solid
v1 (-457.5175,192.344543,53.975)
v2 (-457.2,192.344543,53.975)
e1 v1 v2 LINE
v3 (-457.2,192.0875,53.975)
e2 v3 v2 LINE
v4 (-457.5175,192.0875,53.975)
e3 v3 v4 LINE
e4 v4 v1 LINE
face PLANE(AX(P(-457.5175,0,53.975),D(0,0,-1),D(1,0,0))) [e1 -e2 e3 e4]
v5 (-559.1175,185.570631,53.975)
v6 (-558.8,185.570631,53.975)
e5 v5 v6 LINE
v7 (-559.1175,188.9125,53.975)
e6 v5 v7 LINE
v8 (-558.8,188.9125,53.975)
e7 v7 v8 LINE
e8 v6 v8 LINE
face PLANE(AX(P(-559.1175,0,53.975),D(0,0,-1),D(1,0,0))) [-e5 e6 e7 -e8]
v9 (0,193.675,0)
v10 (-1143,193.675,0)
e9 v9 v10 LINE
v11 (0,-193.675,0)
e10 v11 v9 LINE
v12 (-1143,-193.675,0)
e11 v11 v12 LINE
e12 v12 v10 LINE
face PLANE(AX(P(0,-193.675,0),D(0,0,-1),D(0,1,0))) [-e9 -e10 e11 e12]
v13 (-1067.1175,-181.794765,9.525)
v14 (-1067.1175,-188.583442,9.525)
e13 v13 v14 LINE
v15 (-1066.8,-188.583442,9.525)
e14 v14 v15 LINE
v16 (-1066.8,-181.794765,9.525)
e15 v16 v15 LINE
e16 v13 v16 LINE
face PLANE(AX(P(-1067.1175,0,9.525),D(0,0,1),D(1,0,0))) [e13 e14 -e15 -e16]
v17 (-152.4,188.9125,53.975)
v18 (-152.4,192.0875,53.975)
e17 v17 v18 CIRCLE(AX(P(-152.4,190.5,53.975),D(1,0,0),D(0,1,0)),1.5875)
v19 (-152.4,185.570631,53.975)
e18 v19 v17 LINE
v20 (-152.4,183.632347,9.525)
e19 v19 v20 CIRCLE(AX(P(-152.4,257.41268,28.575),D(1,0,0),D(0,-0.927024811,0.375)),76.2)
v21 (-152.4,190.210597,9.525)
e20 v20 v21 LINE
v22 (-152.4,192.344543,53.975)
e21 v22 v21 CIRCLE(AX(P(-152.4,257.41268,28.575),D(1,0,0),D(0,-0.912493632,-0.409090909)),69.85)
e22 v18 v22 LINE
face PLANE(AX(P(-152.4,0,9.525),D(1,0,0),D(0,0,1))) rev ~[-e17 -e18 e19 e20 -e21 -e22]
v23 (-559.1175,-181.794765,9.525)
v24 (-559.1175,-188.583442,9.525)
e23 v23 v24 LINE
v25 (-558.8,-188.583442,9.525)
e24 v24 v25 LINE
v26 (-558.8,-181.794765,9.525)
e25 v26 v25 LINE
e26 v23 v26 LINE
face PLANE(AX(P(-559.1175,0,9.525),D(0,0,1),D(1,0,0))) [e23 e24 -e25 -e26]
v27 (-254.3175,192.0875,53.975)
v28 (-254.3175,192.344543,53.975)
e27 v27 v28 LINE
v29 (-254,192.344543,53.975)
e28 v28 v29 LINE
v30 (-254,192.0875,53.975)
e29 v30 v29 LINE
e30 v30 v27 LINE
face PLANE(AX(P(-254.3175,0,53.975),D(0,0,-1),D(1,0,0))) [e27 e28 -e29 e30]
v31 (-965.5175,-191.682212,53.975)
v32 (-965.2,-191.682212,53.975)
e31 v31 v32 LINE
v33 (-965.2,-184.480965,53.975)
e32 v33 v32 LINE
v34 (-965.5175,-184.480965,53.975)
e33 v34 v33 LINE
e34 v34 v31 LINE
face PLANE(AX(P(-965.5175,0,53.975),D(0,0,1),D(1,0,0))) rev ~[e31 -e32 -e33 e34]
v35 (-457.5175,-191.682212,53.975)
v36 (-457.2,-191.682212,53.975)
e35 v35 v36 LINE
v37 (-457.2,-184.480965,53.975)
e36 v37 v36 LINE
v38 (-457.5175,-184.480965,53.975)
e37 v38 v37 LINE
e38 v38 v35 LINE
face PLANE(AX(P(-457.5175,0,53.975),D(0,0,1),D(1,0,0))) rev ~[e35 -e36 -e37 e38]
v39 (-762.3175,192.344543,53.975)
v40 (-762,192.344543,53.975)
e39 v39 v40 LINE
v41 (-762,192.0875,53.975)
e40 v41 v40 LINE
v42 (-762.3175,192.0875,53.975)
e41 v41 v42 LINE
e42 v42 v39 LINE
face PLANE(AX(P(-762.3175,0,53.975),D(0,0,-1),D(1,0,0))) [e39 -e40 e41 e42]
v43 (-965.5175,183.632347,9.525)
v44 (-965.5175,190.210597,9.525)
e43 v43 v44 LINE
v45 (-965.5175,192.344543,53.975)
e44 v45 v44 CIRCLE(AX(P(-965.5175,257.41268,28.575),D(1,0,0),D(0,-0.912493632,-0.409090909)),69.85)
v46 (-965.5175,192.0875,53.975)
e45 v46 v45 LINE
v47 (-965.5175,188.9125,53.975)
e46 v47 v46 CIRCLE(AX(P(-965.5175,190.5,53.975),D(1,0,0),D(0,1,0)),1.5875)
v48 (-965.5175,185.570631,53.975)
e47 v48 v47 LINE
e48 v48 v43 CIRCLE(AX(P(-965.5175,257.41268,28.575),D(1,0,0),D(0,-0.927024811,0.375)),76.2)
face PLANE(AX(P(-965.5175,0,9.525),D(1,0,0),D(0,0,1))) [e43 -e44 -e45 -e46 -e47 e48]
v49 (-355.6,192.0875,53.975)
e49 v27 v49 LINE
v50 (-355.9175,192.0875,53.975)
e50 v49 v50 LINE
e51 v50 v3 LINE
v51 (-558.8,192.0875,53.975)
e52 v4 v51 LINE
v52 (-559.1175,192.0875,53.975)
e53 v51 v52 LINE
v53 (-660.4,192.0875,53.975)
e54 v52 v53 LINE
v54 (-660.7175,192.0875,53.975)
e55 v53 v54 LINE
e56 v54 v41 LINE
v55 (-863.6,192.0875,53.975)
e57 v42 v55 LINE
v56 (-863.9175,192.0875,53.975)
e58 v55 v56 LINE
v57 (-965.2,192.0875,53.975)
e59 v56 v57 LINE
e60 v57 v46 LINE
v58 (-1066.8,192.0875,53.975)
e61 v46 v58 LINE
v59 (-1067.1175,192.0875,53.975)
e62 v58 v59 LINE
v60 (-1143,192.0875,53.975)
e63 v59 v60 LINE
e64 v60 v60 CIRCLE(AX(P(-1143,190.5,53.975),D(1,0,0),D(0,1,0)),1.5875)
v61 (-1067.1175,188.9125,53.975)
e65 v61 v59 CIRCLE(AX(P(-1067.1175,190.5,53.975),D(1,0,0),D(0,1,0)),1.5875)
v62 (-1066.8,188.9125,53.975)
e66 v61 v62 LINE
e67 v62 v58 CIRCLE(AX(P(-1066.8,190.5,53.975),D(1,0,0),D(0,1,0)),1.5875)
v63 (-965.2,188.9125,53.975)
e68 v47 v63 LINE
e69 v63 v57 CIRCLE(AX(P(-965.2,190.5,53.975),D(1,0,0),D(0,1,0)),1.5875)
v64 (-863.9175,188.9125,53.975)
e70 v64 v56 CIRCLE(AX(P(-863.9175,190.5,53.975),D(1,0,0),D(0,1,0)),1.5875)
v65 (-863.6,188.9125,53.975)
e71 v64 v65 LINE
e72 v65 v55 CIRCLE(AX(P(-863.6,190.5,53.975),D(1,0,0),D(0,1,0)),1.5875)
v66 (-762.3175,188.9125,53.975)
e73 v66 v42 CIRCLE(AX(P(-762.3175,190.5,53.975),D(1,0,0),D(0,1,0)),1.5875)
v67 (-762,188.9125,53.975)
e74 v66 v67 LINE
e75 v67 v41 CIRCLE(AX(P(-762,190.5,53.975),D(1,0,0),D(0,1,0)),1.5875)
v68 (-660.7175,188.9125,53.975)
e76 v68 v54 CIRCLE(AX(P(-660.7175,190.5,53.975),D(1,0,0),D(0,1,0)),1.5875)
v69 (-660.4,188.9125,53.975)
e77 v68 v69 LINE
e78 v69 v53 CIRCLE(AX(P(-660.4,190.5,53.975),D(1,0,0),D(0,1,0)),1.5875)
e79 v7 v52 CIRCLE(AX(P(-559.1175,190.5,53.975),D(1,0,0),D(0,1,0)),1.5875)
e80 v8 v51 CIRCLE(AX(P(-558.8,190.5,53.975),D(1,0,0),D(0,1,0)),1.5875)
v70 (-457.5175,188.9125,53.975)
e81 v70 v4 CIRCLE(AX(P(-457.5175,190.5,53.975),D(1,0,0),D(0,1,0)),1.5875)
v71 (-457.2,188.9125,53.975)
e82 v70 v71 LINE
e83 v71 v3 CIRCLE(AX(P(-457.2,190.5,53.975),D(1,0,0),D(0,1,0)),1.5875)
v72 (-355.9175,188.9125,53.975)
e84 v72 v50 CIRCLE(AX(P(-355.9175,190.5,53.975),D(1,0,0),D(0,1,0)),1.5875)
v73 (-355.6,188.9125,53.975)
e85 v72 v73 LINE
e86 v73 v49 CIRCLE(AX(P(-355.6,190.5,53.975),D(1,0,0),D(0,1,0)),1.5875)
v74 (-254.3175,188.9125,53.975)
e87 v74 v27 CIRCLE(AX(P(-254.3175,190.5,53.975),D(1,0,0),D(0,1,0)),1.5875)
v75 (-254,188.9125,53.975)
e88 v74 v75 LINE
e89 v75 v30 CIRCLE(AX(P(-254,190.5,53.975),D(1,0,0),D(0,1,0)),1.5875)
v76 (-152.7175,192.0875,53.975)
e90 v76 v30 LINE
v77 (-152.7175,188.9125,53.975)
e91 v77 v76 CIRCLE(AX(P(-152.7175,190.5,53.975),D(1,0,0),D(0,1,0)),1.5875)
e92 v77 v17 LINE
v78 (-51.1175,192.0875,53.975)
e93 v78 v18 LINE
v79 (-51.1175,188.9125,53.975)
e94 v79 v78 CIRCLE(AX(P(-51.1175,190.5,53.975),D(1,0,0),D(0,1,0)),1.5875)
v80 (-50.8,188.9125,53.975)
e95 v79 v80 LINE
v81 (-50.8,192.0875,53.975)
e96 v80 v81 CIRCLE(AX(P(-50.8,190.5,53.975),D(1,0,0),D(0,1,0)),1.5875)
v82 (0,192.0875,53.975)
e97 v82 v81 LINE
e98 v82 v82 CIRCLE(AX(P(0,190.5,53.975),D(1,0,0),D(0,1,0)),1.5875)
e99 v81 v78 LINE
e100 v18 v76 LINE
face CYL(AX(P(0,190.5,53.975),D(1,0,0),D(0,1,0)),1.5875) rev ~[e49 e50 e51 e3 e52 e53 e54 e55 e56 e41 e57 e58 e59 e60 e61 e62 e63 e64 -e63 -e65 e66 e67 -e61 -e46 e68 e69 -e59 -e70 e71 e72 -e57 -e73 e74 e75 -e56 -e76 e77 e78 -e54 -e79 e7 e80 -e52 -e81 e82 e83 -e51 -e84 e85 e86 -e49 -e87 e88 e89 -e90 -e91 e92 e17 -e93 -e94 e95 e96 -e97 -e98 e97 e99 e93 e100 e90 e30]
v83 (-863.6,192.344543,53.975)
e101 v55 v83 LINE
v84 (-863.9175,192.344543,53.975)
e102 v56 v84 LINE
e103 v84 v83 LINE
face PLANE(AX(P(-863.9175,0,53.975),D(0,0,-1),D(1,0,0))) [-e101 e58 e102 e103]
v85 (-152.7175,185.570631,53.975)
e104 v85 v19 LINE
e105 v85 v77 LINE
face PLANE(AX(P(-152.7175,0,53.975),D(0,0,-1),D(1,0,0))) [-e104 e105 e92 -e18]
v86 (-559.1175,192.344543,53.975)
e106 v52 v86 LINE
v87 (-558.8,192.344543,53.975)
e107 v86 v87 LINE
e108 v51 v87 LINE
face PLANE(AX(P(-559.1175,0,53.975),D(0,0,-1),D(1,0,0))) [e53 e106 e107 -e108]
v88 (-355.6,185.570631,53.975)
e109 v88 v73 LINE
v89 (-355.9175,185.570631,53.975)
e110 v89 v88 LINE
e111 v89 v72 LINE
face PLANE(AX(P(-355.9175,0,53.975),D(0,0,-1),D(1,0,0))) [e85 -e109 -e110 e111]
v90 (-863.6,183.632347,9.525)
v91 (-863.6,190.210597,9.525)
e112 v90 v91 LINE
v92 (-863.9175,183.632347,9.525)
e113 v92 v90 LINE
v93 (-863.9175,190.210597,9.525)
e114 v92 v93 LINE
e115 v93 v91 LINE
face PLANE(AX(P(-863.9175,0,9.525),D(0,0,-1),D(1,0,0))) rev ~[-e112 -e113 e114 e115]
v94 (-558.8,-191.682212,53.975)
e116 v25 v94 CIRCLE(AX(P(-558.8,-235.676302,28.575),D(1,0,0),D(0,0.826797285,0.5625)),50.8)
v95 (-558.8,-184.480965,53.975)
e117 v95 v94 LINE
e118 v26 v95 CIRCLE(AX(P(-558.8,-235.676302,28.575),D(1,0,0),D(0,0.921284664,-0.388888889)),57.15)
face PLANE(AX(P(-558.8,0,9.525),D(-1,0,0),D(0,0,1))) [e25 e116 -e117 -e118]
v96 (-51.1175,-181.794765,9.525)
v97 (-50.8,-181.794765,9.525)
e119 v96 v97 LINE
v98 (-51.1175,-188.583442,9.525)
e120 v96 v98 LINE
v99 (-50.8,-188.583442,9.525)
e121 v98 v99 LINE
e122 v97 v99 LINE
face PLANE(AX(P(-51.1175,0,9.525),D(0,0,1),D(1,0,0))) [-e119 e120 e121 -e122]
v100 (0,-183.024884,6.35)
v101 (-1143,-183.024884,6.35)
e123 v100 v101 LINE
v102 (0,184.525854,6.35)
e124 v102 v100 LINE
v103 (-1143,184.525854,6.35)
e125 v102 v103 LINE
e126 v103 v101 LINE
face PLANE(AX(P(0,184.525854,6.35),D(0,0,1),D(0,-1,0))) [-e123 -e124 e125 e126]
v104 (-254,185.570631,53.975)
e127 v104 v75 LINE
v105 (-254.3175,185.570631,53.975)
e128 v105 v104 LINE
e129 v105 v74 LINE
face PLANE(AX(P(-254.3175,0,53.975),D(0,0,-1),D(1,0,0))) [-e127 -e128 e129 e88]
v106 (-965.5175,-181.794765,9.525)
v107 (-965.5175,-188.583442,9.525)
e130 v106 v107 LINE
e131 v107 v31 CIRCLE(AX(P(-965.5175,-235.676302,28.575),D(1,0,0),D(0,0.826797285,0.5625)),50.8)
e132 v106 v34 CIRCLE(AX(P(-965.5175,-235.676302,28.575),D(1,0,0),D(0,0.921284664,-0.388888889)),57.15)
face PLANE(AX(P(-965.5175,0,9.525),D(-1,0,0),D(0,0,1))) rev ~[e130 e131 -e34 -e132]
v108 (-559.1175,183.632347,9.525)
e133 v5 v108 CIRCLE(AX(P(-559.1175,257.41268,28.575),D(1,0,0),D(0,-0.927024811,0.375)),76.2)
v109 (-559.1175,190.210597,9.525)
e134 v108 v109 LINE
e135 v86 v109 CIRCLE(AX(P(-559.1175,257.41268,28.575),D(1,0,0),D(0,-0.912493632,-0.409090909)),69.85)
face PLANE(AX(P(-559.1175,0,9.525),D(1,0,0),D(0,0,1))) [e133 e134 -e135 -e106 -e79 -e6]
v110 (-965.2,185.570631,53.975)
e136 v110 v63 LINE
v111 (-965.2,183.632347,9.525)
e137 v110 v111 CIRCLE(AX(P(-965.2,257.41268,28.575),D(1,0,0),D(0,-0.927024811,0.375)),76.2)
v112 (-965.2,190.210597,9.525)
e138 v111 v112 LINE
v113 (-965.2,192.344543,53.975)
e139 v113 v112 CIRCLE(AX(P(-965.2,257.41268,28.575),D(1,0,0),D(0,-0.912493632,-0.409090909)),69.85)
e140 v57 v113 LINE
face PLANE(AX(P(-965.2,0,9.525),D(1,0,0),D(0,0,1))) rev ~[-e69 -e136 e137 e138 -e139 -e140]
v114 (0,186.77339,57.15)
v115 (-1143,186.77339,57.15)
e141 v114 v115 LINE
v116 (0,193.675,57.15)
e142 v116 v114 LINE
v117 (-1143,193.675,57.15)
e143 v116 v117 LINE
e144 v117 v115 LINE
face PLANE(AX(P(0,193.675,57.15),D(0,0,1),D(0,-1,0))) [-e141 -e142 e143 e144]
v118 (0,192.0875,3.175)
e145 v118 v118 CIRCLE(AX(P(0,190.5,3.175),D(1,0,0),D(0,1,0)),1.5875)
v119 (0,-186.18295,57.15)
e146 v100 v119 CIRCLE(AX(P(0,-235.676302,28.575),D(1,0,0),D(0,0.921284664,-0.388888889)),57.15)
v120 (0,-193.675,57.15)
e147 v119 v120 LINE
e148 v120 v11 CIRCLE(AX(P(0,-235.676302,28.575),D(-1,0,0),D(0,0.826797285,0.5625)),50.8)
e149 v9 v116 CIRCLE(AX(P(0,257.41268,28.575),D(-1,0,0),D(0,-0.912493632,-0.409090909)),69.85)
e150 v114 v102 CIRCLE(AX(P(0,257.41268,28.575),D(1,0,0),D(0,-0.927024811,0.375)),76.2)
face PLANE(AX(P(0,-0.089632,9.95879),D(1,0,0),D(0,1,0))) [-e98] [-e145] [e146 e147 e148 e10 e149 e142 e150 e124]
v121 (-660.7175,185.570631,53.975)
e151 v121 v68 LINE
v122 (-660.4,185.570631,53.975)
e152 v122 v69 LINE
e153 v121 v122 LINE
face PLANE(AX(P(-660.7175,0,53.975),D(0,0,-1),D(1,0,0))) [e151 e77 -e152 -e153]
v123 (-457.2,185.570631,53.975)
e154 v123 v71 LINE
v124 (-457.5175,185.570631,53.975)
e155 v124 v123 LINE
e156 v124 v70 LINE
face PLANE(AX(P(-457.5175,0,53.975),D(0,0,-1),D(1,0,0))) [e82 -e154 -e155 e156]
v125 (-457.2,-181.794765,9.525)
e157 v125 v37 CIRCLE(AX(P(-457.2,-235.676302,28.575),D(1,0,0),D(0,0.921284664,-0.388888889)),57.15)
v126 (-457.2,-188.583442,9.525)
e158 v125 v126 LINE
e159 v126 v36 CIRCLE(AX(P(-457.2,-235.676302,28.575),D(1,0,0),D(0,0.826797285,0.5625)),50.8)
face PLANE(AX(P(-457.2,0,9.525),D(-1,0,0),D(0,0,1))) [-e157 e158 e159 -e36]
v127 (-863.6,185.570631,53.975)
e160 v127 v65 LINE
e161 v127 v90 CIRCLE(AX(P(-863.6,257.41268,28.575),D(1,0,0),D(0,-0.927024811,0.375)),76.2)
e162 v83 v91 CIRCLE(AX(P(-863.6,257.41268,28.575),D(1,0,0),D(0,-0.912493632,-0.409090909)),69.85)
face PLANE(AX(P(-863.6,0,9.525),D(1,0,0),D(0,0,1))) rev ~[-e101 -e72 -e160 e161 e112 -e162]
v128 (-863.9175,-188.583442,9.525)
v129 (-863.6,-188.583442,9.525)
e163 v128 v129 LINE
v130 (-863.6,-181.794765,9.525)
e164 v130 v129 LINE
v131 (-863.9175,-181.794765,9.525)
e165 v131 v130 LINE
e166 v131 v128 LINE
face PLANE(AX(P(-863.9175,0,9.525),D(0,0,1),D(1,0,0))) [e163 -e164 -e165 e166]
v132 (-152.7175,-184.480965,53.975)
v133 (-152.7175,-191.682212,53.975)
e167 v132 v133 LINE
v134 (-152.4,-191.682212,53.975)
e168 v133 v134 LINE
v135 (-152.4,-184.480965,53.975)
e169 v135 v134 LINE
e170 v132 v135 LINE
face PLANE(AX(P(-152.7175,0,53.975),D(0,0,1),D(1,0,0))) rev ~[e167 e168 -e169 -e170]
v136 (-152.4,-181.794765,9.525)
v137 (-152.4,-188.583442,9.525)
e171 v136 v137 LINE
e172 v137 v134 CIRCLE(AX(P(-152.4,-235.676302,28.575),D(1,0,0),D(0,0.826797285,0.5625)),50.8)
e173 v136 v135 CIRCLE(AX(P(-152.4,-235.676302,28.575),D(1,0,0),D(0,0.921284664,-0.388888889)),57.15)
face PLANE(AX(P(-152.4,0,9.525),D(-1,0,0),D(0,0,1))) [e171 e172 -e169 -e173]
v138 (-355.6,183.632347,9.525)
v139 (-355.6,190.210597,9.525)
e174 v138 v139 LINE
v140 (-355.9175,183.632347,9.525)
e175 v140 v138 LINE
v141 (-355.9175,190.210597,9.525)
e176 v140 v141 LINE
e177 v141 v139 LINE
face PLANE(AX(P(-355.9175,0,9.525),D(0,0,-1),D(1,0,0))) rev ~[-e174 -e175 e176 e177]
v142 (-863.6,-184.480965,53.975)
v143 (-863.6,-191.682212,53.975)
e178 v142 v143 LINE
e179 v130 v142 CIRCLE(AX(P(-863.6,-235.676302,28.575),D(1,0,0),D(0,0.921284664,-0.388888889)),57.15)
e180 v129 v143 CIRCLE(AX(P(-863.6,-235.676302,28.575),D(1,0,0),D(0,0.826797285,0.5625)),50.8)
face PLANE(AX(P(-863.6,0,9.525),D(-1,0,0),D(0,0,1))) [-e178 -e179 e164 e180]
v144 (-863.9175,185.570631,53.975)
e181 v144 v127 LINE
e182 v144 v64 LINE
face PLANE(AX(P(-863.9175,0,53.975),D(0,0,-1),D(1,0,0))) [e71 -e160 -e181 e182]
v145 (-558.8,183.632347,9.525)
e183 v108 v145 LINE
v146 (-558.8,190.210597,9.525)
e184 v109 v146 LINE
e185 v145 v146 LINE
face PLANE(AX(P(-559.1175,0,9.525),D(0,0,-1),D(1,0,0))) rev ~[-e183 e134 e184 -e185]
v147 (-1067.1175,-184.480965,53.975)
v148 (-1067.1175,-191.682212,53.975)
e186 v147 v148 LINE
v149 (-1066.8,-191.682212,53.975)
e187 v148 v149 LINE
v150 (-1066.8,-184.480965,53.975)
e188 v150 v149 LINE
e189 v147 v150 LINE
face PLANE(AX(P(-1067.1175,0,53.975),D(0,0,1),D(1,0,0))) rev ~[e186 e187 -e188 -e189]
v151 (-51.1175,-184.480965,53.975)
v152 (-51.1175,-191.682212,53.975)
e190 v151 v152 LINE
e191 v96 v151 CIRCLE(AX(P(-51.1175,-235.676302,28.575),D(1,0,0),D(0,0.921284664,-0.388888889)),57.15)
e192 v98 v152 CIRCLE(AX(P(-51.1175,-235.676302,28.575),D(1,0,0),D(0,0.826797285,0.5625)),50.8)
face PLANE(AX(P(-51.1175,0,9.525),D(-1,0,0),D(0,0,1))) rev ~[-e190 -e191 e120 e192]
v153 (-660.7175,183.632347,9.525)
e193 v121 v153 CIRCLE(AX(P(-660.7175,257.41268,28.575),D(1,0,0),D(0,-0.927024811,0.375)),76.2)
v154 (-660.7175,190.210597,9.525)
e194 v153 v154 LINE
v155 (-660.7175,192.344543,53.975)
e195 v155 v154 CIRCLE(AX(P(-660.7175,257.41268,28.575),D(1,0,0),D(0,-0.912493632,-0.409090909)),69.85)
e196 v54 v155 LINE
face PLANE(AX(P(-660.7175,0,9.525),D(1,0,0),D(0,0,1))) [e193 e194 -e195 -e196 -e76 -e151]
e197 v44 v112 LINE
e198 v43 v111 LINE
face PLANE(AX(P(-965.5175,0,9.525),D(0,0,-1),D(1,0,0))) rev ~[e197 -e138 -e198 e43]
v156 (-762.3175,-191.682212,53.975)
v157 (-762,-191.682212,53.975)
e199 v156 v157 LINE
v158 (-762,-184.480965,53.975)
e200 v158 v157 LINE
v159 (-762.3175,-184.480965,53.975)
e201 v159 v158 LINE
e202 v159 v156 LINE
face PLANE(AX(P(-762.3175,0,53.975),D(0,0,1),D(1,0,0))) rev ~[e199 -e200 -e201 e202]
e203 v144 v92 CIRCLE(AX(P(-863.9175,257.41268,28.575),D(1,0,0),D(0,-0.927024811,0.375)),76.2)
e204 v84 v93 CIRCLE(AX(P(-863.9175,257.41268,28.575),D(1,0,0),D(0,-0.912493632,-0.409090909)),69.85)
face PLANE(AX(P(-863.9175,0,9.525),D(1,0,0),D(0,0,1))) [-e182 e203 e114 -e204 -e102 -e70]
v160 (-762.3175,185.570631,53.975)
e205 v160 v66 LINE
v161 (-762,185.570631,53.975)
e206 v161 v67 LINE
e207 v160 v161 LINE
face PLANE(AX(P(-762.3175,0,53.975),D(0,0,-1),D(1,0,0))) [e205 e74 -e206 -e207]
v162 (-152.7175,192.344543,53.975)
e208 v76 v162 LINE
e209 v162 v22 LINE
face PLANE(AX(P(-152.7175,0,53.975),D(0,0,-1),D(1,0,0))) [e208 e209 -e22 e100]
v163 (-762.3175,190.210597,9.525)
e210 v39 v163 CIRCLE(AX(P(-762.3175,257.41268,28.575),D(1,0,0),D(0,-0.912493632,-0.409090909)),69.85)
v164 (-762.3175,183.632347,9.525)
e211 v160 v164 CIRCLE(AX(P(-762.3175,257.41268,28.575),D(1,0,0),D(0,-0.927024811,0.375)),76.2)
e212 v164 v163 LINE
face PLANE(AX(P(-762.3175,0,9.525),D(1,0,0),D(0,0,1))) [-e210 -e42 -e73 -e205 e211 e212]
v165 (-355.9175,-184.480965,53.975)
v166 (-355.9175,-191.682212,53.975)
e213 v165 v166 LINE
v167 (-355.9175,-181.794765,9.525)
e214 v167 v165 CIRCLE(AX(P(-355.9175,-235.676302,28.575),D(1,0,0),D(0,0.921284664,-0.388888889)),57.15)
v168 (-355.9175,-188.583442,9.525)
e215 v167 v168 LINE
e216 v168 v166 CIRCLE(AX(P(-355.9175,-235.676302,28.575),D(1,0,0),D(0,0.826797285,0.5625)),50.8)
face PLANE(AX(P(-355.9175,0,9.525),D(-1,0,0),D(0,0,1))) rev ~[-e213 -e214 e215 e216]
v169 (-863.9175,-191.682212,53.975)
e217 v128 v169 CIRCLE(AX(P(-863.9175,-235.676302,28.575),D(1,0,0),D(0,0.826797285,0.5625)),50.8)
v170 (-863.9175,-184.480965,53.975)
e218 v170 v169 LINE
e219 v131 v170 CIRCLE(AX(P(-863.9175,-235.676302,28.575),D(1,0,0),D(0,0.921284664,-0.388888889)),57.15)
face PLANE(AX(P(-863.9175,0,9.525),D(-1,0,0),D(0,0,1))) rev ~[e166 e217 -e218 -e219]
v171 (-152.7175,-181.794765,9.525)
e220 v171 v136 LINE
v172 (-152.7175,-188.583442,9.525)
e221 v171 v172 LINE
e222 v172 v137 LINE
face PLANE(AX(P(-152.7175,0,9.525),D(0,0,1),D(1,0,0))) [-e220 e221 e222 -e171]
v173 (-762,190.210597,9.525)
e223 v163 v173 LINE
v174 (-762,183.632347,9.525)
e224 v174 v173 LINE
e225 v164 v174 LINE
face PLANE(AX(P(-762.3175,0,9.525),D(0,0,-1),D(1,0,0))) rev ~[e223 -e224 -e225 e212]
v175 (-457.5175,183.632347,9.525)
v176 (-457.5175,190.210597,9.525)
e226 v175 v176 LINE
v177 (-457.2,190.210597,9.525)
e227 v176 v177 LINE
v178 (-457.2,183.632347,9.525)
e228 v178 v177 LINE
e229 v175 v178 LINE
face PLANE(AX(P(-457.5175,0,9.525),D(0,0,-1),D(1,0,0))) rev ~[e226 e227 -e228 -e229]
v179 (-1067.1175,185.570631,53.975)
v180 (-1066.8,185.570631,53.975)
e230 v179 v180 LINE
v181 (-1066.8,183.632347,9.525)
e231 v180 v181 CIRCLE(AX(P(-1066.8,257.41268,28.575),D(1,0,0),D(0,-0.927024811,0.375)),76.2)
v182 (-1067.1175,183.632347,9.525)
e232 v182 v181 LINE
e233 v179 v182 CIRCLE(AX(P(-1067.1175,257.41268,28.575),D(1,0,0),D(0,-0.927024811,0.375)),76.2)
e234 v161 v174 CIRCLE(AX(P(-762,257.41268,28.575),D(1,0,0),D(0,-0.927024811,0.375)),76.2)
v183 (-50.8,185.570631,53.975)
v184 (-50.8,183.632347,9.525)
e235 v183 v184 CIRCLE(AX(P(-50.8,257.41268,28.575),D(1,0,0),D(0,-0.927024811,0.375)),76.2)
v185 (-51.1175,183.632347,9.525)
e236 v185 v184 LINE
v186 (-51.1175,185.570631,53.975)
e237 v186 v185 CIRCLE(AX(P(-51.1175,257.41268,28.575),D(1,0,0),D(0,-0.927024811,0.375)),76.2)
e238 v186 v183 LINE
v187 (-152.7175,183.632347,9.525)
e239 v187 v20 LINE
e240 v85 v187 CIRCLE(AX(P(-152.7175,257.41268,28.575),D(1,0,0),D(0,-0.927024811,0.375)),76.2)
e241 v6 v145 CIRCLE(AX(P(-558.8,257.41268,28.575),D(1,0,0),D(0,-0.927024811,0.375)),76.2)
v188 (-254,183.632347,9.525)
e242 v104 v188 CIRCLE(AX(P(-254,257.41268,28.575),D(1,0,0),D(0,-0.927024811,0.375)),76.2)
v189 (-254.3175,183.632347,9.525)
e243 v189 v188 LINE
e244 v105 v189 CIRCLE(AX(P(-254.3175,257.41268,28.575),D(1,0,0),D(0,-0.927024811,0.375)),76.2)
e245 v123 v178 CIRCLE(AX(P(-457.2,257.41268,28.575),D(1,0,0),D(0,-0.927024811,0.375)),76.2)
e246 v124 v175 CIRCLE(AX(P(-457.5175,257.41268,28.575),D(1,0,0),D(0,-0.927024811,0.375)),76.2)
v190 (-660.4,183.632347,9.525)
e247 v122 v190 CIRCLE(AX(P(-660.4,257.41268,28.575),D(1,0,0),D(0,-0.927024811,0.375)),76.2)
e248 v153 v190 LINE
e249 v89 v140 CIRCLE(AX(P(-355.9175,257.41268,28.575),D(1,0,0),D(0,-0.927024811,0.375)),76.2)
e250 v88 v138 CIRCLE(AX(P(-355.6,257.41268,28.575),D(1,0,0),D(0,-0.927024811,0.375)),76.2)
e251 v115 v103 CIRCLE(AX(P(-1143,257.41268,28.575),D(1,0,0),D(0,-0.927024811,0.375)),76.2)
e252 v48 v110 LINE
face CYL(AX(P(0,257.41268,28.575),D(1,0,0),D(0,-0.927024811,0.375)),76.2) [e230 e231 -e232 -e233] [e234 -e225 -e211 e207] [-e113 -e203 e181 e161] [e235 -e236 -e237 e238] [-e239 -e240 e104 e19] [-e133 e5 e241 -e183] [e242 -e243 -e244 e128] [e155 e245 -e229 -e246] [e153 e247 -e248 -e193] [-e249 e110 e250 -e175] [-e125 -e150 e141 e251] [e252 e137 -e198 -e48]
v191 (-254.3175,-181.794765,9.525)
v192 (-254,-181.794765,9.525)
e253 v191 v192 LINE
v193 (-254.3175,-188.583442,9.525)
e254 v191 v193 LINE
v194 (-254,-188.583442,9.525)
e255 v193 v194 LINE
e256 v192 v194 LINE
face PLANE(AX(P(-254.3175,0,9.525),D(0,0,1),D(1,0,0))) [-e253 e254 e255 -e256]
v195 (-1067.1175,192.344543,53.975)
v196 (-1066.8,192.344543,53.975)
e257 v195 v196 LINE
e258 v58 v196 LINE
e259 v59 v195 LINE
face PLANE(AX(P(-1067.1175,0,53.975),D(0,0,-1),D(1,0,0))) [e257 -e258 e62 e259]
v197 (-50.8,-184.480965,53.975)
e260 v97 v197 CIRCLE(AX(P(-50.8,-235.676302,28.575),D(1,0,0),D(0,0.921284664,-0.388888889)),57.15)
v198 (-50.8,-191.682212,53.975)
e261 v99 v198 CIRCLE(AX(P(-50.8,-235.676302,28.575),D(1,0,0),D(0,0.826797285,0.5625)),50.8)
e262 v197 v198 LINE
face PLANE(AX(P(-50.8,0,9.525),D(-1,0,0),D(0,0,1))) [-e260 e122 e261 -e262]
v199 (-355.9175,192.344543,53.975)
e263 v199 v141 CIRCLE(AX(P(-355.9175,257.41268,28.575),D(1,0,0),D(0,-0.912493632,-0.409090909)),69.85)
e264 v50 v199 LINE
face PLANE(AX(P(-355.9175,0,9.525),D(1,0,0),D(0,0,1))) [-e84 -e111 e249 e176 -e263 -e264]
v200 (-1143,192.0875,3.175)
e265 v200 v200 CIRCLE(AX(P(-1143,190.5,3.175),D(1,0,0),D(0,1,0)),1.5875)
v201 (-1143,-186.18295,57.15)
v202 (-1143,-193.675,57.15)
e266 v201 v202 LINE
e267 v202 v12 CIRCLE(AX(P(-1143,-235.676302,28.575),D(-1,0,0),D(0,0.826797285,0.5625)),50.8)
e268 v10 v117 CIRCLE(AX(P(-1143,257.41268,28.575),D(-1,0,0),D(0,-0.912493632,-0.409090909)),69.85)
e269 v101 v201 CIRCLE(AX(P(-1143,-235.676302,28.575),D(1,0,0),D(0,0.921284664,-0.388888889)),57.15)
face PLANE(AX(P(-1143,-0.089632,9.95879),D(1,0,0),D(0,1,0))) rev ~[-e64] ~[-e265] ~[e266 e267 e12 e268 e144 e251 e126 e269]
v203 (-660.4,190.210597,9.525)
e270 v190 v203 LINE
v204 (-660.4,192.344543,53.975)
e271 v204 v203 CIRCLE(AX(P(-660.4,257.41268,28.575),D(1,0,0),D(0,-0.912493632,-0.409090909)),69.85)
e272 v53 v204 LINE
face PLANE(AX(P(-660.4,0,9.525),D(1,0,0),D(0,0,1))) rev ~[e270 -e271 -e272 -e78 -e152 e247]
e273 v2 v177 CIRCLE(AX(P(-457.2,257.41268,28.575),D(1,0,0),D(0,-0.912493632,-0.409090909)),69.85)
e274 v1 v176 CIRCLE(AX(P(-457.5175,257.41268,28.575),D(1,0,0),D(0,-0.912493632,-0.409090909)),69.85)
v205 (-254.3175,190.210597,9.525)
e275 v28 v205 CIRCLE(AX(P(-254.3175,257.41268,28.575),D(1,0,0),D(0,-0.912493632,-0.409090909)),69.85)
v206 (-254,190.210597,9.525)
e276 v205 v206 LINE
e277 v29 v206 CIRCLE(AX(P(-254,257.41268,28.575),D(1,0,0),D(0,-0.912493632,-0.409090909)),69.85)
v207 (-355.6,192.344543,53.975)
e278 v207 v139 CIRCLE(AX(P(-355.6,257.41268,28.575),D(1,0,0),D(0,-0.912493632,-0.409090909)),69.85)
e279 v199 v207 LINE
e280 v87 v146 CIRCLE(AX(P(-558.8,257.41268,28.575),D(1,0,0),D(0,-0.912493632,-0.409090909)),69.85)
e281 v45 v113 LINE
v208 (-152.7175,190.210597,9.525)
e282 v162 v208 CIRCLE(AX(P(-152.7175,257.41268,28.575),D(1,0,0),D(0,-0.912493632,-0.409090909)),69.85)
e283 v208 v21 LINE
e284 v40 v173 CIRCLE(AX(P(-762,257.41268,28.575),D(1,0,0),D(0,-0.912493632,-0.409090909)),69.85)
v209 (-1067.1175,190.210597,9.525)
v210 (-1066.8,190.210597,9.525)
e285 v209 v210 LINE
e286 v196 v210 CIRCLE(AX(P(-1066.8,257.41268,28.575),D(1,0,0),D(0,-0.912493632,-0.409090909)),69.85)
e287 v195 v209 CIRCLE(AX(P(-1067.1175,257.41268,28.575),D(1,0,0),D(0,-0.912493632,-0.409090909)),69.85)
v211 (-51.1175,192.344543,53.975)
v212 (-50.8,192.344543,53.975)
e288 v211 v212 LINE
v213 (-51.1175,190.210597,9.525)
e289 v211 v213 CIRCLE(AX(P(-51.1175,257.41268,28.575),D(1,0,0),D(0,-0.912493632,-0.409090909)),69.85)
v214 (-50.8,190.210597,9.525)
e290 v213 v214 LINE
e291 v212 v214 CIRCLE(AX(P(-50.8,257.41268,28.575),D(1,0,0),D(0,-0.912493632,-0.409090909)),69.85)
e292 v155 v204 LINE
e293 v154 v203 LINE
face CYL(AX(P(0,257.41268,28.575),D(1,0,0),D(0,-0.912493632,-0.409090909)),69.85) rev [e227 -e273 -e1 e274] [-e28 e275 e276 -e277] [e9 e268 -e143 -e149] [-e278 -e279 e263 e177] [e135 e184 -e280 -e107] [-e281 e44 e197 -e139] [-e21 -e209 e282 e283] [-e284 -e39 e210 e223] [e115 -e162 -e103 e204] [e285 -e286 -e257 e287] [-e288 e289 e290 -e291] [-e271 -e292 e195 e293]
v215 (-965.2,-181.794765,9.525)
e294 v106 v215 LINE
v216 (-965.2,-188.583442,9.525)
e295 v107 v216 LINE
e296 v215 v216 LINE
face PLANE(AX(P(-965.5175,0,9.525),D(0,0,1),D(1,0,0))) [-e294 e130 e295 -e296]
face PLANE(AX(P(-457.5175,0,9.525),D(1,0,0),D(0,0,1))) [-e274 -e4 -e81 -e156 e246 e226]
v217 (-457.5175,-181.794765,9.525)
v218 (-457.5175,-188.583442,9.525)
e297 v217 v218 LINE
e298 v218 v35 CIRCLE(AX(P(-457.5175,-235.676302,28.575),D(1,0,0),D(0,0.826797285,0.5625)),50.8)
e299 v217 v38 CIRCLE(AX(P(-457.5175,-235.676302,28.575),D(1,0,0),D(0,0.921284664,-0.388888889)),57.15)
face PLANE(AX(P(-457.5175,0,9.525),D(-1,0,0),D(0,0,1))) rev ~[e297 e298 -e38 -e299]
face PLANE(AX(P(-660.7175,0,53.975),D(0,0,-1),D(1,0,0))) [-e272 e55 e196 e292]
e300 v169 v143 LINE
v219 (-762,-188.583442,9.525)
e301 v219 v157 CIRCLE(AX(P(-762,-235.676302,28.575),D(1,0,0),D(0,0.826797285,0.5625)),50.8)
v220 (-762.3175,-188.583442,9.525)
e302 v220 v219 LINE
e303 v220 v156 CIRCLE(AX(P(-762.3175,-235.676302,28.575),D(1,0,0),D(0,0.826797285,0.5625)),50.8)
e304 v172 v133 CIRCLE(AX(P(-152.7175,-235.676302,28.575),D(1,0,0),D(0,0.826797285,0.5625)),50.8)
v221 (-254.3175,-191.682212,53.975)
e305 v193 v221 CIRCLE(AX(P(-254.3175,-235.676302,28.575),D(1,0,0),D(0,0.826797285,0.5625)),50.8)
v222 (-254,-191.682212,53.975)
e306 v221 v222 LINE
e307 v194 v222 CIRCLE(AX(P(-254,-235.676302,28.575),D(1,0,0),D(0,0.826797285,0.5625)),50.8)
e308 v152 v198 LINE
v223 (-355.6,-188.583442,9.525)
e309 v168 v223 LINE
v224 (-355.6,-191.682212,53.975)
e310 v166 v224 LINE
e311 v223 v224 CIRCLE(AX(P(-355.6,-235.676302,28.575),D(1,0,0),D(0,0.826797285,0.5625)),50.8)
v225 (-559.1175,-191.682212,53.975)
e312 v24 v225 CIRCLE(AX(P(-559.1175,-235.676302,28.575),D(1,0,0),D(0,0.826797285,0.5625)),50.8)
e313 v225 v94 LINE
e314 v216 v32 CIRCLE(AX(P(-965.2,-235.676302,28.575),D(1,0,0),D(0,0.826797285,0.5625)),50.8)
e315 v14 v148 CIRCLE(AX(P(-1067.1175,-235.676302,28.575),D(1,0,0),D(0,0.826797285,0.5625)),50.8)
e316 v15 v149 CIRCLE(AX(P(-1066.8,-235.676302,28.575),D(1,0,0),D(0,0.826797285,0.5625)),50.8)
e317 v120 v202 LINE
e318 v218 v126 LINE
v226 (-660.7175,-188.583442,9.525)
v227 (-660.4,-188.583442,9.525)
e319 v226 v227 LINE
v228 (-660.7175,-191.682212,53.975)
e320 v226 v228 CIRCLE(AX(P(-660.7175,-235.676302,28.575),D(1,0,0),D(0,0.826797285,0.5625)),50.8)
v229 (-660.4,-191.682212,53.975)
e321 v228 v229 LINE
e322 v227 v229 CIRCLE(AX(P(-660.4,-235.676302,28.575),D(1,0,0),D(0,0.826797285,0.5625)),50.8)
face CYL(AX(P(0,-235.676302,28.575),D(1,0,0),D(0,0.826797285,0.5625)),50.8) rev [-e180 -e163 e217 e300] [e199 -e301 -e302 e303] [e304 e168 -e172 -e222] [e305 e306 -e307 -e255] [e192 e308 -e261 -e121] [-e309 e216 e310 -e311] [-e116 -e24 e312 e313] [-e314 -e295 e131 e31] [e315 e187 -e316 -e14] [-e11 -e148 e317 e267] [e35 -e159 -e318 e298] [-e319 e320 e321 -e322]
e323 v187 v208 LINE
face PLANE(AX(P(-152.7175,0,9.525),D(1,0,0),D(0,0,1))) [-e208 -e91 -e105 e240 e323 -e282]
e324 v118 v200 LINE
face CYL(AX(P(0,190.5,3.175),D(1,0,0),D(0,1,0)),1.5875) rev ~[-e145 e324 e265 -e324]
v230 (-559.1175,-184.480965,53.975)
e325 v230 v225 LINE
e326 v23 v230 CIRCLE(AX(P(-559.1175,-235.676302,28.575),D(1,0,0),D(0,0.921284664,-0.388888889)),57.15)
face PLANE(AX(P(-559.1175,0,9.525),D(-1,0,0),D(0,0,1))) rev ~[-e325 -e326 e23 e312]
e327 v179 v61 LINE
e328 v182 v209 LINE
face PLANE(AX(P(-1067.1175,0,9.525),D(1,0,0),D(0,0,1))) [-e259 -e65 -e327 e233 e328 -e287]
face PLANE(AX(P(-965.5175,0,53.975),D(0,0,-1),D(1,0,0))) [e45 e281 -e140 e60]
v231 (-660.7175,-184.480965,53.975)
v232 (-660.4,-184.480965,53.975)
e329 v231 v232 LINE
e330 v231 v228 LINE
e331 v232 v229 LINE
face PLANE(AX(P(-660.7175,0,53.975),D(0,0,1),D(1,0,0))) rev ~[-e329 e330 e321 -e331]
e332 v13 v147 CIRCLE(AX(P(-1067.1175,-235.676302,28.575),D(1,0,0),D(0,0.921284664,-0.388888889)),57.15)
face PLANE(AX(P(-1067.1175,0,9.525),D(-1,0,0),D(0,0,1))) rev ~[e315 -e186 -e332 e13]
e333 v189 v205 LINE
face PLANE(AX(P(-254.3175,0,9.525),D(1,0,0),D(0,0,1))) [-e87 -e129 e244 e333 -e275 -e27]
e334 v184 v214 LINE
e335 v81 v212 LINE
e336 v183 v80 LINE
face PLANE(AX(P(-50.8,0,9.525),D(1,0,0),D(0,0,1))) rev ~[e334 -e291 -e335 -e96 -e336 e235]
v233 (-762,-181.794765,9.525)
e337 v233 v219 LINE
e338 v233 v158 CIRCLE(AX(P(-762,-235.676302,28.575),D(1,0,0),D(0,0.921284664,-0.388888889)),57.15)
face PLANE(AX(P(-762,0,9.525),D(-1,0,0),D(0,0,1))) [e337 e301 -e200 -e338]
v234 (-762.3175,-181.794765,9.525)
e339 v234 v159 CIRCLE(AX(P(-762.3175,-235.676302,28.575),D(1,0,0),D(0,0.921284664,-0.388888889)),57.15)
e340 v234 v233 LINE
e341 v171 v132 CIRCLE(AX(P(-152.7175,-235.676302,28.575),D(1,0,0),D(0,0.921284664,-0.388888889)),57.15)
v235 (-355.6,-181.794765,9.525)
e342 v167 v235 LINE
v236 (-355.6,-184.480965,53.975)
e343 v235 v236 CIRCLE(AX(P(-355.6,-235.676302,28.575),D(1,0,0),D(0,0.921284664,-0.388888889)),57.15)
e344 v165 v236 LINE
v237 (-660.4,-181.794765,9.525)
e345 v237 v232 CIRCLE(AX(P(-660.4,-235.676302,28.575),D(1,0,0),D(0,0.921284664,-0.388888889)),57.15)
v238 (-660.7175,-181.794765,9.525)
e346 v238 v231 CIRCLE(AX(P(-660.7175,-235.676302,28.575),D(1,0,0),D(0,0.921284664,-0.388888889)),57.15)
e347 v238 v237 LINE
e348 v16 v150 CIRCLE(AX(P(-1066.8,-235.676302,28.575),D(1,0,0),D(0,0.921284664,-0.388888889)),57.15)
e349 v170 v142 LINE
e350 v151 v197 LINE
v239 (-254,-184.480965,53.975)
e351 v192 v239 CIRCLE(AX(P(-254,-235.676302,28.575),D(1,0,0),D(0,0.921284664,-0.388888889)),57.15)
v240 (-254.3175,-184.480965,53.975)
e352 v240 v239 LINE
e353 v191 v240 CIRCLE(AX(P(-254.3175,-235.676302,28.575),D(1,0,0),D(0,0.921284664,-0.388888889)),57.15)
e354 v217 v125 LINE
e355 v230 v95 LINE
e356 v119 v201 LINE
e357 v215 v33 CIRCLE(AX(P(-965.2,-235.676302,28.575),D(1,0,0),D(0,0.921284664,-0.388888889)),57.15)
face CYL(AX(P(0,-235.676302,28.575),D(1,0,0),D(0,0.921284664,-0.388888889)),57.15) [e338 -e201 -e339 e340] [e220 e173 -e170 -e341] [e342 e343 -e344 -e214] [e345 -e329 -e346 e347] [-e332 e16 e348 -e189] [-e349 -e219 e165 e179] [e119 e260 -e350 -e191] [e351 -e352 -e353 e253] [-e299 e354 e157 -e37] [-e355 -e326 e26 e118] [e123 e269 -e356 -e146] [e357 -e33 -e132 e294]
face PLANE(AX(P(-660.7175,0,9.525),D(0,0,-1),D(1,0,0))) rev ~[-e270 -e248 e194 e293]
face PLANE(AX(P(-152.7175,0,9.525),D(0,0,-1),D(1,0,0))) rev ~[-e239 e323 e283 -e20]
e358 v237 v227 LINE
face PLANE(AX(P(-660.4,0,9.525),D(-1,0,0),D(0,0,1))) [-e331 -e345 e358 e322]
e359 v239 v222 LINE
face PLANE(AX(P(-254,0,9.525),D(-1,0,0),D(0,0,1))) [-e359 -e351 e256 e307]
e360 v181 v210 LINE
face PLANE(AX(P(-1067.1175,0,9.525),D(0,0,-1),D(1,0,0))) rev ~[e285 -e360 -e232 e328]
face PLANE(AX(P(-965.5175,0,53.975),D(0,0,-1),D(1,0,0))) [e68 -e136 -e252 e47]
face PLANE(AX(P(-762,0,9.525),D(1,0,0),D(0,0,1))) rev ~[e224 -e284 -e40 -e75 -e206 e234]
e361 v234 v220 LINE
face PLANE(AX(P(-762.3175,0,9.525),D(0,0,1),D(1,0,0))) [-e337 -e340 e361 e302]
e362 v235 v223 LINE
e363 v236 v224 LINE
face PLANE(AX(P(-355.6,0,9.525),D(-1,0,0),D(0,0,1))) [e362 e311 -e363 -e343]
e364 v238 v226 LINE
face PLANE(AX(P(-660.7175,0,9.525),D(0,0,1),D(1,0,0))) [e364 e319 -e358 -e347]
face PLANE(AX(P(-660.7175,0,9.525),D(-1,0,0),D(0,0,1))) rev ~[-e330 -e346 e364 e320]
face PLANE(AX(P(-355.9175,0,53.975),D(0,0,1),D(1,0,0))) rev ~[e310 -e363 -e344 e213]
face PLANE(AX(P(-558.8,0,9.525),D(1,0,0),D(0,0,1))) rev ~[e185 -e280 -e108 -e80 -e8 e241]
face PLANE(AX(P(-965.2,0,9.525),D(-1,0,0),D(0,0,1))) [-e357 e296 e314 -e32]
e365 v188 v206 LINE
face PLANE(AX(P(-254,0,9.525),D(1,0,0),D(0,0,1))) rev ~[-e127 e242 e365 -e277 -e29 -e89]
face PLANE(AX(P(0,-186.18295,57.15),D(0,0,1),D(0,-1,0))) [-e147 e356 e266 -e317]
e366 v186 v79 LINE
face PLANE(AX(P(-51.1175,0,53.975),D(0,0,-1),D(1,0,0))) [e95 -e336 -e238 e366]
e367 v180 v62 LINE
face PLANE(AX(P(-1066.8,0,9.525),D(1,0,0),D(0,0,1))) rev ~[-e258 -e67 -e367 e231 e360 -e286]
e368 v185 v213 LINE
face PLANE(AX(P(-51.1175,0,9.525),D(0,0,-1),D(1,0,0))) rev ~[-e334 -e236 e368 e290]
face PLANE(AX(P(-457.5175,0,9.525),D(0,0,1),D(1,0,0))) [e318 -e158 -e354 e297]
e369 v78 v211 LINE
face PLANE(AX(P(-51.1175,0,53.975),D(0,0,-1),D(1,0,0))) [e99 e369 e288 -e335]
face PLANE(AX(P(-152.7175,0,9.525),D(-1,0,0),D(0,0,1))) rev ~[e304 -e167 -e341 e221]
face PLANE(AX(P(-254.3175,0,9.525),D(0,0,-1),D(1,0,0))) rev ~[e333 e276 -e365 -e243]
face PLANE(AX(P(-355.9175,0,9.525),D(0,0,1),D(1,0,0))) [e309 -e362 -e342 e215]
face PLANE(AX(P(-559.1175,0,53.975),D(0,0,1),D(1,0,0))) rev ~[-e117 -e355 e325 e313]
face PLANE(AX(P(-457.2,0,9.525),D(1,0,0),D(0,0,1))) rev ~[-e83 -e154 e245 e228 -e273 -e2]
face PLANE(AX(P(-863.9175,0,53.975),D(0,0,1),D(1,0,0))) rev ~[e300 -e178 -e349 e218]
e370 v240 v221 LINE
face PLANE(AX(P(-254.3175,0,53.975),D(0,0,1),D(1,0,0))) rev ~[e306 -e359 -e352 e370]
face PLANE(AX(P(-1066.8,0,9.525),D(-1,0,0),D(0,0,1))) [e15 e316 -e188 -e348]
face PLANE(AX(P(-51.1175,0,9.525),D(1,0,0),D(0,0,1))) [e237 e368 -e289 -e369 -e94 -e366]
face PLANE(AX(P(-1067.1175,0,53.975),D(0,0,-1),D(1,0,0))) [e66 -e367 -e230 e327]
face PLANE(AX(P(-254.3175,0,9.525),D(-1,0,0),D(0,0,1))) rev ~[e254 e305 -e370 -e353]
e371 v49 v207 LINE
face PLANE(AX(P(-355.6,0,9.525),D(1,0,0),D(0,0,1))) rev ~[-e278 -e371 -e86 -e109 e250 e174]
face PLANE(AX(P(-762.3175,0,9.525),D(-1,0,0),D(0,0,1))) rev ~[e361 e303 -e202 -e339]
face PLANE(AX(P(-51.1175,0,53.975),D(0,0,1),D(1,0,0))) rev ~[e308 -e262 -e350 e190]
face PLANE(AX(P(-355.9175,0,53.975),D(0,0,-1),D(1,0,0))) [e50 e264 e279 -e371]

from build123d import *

# Parameters (mm, degrees)
F1_DEPTH      = 1143
F2_R          = 1.5875
F3_DEPTH      = 1143.001
F4_W          = 0.3175
F4_H          = 44.45
F5_DEPTH      = 193.3445428183
F5_DEPTH_BACK = 192.6822115509


with BuildPart() as f1:
    # F0 (on Right) → F1 (new body)
    with BuildSketch(Plane.YZ):
        with BuildLine():
            ThreePointArc((-193.675, 57.15), (-184.8763020632, 28.575), (-193.675, 0))
            Line((-193.675, 0), (193.675, 0))
            ThreePointArc((193.675, 0), (187.5626801821, 28.575), (193.675, 57.15))
            Line((193.675, 57.15), (186.7733895925, 57.15))
            ThreePointArc((186.7733895925, 57.15), (181.2871488449, 31.94300811), (184.5258543835, 6.35))
            Line((184.5258543835, 6.35), (-183.0248835163, 6.35))
            ThreePointArc((-183.0248835163, 6.35), (-178.6364166438, 32.1209796041), (-186.1829502369, 57.15))
            Line((-186.1829502369, 57.15), (-193.675, 57.15))
        make_face()
    extrude(amount=-F1_DEPTH)

    # F2 (on face) → F3 (cut, through all)
    with BuildSketch(Plane.YZ):
        with Locations((190.5, 53.975)):
            Circle(F2_R)
        with Locations((190.5, 3.175)):
            Circle(F2_R)
    extrude(amount=-F3_DEPTH, mode=Mode.SUBTRACT)

    # F4 (on Front) → F5 (cut, two sides)
    with BuildSketch(Plane.XZ) as f5_sk:
        with Locations((-50.95875, 31.75)):
            Rectangle(F4_W, F4_H)
        with Locations((-152.55875, 31.75)):
            Rectangle(F4_W, F4_H)
        with Locations((-254.15875, 31.75)):
            Rectangle(F4_W, F4_H)
        with Locations((-355.75875, 31.75)):
            Rectangle(F4_W, F4_H)
        with Locations((-457.35875, 31.75)):
            Rectangle(F4_W, F4_H)
        with Locations((-558.95875, 31.75)):
            Rectangle(F4_W, F4_H)
        with Locations((-660.55875, 31.75)):
            Rectangle(F4_W, F4_H)
        with Locations((-762.15875, 31.75)):
            Rectangle(F4_W, F4_H)
        with Locations((-863.75875, 31.75)):
            Rectangle(F4_W, F4_H)
        with Locations((-965.35875, 31.75)):
            Rectangle(F4_W, F4_H)
        with Locations((-1066.95875, 31.75)):
            Rectangle(F4_W, F4_H)
        with Locations((-1168.55875, 31.75)):
            Rectangle(F4_W, F4_H)
    extrude(amount=-F5_DEPTH, mode=Mode.SUBTRACT)
    extrude(f5_sk.sketch, amount=F5_DEPTH_BACK, mode=Mode.SUBTRACT)


solid = f1.part
